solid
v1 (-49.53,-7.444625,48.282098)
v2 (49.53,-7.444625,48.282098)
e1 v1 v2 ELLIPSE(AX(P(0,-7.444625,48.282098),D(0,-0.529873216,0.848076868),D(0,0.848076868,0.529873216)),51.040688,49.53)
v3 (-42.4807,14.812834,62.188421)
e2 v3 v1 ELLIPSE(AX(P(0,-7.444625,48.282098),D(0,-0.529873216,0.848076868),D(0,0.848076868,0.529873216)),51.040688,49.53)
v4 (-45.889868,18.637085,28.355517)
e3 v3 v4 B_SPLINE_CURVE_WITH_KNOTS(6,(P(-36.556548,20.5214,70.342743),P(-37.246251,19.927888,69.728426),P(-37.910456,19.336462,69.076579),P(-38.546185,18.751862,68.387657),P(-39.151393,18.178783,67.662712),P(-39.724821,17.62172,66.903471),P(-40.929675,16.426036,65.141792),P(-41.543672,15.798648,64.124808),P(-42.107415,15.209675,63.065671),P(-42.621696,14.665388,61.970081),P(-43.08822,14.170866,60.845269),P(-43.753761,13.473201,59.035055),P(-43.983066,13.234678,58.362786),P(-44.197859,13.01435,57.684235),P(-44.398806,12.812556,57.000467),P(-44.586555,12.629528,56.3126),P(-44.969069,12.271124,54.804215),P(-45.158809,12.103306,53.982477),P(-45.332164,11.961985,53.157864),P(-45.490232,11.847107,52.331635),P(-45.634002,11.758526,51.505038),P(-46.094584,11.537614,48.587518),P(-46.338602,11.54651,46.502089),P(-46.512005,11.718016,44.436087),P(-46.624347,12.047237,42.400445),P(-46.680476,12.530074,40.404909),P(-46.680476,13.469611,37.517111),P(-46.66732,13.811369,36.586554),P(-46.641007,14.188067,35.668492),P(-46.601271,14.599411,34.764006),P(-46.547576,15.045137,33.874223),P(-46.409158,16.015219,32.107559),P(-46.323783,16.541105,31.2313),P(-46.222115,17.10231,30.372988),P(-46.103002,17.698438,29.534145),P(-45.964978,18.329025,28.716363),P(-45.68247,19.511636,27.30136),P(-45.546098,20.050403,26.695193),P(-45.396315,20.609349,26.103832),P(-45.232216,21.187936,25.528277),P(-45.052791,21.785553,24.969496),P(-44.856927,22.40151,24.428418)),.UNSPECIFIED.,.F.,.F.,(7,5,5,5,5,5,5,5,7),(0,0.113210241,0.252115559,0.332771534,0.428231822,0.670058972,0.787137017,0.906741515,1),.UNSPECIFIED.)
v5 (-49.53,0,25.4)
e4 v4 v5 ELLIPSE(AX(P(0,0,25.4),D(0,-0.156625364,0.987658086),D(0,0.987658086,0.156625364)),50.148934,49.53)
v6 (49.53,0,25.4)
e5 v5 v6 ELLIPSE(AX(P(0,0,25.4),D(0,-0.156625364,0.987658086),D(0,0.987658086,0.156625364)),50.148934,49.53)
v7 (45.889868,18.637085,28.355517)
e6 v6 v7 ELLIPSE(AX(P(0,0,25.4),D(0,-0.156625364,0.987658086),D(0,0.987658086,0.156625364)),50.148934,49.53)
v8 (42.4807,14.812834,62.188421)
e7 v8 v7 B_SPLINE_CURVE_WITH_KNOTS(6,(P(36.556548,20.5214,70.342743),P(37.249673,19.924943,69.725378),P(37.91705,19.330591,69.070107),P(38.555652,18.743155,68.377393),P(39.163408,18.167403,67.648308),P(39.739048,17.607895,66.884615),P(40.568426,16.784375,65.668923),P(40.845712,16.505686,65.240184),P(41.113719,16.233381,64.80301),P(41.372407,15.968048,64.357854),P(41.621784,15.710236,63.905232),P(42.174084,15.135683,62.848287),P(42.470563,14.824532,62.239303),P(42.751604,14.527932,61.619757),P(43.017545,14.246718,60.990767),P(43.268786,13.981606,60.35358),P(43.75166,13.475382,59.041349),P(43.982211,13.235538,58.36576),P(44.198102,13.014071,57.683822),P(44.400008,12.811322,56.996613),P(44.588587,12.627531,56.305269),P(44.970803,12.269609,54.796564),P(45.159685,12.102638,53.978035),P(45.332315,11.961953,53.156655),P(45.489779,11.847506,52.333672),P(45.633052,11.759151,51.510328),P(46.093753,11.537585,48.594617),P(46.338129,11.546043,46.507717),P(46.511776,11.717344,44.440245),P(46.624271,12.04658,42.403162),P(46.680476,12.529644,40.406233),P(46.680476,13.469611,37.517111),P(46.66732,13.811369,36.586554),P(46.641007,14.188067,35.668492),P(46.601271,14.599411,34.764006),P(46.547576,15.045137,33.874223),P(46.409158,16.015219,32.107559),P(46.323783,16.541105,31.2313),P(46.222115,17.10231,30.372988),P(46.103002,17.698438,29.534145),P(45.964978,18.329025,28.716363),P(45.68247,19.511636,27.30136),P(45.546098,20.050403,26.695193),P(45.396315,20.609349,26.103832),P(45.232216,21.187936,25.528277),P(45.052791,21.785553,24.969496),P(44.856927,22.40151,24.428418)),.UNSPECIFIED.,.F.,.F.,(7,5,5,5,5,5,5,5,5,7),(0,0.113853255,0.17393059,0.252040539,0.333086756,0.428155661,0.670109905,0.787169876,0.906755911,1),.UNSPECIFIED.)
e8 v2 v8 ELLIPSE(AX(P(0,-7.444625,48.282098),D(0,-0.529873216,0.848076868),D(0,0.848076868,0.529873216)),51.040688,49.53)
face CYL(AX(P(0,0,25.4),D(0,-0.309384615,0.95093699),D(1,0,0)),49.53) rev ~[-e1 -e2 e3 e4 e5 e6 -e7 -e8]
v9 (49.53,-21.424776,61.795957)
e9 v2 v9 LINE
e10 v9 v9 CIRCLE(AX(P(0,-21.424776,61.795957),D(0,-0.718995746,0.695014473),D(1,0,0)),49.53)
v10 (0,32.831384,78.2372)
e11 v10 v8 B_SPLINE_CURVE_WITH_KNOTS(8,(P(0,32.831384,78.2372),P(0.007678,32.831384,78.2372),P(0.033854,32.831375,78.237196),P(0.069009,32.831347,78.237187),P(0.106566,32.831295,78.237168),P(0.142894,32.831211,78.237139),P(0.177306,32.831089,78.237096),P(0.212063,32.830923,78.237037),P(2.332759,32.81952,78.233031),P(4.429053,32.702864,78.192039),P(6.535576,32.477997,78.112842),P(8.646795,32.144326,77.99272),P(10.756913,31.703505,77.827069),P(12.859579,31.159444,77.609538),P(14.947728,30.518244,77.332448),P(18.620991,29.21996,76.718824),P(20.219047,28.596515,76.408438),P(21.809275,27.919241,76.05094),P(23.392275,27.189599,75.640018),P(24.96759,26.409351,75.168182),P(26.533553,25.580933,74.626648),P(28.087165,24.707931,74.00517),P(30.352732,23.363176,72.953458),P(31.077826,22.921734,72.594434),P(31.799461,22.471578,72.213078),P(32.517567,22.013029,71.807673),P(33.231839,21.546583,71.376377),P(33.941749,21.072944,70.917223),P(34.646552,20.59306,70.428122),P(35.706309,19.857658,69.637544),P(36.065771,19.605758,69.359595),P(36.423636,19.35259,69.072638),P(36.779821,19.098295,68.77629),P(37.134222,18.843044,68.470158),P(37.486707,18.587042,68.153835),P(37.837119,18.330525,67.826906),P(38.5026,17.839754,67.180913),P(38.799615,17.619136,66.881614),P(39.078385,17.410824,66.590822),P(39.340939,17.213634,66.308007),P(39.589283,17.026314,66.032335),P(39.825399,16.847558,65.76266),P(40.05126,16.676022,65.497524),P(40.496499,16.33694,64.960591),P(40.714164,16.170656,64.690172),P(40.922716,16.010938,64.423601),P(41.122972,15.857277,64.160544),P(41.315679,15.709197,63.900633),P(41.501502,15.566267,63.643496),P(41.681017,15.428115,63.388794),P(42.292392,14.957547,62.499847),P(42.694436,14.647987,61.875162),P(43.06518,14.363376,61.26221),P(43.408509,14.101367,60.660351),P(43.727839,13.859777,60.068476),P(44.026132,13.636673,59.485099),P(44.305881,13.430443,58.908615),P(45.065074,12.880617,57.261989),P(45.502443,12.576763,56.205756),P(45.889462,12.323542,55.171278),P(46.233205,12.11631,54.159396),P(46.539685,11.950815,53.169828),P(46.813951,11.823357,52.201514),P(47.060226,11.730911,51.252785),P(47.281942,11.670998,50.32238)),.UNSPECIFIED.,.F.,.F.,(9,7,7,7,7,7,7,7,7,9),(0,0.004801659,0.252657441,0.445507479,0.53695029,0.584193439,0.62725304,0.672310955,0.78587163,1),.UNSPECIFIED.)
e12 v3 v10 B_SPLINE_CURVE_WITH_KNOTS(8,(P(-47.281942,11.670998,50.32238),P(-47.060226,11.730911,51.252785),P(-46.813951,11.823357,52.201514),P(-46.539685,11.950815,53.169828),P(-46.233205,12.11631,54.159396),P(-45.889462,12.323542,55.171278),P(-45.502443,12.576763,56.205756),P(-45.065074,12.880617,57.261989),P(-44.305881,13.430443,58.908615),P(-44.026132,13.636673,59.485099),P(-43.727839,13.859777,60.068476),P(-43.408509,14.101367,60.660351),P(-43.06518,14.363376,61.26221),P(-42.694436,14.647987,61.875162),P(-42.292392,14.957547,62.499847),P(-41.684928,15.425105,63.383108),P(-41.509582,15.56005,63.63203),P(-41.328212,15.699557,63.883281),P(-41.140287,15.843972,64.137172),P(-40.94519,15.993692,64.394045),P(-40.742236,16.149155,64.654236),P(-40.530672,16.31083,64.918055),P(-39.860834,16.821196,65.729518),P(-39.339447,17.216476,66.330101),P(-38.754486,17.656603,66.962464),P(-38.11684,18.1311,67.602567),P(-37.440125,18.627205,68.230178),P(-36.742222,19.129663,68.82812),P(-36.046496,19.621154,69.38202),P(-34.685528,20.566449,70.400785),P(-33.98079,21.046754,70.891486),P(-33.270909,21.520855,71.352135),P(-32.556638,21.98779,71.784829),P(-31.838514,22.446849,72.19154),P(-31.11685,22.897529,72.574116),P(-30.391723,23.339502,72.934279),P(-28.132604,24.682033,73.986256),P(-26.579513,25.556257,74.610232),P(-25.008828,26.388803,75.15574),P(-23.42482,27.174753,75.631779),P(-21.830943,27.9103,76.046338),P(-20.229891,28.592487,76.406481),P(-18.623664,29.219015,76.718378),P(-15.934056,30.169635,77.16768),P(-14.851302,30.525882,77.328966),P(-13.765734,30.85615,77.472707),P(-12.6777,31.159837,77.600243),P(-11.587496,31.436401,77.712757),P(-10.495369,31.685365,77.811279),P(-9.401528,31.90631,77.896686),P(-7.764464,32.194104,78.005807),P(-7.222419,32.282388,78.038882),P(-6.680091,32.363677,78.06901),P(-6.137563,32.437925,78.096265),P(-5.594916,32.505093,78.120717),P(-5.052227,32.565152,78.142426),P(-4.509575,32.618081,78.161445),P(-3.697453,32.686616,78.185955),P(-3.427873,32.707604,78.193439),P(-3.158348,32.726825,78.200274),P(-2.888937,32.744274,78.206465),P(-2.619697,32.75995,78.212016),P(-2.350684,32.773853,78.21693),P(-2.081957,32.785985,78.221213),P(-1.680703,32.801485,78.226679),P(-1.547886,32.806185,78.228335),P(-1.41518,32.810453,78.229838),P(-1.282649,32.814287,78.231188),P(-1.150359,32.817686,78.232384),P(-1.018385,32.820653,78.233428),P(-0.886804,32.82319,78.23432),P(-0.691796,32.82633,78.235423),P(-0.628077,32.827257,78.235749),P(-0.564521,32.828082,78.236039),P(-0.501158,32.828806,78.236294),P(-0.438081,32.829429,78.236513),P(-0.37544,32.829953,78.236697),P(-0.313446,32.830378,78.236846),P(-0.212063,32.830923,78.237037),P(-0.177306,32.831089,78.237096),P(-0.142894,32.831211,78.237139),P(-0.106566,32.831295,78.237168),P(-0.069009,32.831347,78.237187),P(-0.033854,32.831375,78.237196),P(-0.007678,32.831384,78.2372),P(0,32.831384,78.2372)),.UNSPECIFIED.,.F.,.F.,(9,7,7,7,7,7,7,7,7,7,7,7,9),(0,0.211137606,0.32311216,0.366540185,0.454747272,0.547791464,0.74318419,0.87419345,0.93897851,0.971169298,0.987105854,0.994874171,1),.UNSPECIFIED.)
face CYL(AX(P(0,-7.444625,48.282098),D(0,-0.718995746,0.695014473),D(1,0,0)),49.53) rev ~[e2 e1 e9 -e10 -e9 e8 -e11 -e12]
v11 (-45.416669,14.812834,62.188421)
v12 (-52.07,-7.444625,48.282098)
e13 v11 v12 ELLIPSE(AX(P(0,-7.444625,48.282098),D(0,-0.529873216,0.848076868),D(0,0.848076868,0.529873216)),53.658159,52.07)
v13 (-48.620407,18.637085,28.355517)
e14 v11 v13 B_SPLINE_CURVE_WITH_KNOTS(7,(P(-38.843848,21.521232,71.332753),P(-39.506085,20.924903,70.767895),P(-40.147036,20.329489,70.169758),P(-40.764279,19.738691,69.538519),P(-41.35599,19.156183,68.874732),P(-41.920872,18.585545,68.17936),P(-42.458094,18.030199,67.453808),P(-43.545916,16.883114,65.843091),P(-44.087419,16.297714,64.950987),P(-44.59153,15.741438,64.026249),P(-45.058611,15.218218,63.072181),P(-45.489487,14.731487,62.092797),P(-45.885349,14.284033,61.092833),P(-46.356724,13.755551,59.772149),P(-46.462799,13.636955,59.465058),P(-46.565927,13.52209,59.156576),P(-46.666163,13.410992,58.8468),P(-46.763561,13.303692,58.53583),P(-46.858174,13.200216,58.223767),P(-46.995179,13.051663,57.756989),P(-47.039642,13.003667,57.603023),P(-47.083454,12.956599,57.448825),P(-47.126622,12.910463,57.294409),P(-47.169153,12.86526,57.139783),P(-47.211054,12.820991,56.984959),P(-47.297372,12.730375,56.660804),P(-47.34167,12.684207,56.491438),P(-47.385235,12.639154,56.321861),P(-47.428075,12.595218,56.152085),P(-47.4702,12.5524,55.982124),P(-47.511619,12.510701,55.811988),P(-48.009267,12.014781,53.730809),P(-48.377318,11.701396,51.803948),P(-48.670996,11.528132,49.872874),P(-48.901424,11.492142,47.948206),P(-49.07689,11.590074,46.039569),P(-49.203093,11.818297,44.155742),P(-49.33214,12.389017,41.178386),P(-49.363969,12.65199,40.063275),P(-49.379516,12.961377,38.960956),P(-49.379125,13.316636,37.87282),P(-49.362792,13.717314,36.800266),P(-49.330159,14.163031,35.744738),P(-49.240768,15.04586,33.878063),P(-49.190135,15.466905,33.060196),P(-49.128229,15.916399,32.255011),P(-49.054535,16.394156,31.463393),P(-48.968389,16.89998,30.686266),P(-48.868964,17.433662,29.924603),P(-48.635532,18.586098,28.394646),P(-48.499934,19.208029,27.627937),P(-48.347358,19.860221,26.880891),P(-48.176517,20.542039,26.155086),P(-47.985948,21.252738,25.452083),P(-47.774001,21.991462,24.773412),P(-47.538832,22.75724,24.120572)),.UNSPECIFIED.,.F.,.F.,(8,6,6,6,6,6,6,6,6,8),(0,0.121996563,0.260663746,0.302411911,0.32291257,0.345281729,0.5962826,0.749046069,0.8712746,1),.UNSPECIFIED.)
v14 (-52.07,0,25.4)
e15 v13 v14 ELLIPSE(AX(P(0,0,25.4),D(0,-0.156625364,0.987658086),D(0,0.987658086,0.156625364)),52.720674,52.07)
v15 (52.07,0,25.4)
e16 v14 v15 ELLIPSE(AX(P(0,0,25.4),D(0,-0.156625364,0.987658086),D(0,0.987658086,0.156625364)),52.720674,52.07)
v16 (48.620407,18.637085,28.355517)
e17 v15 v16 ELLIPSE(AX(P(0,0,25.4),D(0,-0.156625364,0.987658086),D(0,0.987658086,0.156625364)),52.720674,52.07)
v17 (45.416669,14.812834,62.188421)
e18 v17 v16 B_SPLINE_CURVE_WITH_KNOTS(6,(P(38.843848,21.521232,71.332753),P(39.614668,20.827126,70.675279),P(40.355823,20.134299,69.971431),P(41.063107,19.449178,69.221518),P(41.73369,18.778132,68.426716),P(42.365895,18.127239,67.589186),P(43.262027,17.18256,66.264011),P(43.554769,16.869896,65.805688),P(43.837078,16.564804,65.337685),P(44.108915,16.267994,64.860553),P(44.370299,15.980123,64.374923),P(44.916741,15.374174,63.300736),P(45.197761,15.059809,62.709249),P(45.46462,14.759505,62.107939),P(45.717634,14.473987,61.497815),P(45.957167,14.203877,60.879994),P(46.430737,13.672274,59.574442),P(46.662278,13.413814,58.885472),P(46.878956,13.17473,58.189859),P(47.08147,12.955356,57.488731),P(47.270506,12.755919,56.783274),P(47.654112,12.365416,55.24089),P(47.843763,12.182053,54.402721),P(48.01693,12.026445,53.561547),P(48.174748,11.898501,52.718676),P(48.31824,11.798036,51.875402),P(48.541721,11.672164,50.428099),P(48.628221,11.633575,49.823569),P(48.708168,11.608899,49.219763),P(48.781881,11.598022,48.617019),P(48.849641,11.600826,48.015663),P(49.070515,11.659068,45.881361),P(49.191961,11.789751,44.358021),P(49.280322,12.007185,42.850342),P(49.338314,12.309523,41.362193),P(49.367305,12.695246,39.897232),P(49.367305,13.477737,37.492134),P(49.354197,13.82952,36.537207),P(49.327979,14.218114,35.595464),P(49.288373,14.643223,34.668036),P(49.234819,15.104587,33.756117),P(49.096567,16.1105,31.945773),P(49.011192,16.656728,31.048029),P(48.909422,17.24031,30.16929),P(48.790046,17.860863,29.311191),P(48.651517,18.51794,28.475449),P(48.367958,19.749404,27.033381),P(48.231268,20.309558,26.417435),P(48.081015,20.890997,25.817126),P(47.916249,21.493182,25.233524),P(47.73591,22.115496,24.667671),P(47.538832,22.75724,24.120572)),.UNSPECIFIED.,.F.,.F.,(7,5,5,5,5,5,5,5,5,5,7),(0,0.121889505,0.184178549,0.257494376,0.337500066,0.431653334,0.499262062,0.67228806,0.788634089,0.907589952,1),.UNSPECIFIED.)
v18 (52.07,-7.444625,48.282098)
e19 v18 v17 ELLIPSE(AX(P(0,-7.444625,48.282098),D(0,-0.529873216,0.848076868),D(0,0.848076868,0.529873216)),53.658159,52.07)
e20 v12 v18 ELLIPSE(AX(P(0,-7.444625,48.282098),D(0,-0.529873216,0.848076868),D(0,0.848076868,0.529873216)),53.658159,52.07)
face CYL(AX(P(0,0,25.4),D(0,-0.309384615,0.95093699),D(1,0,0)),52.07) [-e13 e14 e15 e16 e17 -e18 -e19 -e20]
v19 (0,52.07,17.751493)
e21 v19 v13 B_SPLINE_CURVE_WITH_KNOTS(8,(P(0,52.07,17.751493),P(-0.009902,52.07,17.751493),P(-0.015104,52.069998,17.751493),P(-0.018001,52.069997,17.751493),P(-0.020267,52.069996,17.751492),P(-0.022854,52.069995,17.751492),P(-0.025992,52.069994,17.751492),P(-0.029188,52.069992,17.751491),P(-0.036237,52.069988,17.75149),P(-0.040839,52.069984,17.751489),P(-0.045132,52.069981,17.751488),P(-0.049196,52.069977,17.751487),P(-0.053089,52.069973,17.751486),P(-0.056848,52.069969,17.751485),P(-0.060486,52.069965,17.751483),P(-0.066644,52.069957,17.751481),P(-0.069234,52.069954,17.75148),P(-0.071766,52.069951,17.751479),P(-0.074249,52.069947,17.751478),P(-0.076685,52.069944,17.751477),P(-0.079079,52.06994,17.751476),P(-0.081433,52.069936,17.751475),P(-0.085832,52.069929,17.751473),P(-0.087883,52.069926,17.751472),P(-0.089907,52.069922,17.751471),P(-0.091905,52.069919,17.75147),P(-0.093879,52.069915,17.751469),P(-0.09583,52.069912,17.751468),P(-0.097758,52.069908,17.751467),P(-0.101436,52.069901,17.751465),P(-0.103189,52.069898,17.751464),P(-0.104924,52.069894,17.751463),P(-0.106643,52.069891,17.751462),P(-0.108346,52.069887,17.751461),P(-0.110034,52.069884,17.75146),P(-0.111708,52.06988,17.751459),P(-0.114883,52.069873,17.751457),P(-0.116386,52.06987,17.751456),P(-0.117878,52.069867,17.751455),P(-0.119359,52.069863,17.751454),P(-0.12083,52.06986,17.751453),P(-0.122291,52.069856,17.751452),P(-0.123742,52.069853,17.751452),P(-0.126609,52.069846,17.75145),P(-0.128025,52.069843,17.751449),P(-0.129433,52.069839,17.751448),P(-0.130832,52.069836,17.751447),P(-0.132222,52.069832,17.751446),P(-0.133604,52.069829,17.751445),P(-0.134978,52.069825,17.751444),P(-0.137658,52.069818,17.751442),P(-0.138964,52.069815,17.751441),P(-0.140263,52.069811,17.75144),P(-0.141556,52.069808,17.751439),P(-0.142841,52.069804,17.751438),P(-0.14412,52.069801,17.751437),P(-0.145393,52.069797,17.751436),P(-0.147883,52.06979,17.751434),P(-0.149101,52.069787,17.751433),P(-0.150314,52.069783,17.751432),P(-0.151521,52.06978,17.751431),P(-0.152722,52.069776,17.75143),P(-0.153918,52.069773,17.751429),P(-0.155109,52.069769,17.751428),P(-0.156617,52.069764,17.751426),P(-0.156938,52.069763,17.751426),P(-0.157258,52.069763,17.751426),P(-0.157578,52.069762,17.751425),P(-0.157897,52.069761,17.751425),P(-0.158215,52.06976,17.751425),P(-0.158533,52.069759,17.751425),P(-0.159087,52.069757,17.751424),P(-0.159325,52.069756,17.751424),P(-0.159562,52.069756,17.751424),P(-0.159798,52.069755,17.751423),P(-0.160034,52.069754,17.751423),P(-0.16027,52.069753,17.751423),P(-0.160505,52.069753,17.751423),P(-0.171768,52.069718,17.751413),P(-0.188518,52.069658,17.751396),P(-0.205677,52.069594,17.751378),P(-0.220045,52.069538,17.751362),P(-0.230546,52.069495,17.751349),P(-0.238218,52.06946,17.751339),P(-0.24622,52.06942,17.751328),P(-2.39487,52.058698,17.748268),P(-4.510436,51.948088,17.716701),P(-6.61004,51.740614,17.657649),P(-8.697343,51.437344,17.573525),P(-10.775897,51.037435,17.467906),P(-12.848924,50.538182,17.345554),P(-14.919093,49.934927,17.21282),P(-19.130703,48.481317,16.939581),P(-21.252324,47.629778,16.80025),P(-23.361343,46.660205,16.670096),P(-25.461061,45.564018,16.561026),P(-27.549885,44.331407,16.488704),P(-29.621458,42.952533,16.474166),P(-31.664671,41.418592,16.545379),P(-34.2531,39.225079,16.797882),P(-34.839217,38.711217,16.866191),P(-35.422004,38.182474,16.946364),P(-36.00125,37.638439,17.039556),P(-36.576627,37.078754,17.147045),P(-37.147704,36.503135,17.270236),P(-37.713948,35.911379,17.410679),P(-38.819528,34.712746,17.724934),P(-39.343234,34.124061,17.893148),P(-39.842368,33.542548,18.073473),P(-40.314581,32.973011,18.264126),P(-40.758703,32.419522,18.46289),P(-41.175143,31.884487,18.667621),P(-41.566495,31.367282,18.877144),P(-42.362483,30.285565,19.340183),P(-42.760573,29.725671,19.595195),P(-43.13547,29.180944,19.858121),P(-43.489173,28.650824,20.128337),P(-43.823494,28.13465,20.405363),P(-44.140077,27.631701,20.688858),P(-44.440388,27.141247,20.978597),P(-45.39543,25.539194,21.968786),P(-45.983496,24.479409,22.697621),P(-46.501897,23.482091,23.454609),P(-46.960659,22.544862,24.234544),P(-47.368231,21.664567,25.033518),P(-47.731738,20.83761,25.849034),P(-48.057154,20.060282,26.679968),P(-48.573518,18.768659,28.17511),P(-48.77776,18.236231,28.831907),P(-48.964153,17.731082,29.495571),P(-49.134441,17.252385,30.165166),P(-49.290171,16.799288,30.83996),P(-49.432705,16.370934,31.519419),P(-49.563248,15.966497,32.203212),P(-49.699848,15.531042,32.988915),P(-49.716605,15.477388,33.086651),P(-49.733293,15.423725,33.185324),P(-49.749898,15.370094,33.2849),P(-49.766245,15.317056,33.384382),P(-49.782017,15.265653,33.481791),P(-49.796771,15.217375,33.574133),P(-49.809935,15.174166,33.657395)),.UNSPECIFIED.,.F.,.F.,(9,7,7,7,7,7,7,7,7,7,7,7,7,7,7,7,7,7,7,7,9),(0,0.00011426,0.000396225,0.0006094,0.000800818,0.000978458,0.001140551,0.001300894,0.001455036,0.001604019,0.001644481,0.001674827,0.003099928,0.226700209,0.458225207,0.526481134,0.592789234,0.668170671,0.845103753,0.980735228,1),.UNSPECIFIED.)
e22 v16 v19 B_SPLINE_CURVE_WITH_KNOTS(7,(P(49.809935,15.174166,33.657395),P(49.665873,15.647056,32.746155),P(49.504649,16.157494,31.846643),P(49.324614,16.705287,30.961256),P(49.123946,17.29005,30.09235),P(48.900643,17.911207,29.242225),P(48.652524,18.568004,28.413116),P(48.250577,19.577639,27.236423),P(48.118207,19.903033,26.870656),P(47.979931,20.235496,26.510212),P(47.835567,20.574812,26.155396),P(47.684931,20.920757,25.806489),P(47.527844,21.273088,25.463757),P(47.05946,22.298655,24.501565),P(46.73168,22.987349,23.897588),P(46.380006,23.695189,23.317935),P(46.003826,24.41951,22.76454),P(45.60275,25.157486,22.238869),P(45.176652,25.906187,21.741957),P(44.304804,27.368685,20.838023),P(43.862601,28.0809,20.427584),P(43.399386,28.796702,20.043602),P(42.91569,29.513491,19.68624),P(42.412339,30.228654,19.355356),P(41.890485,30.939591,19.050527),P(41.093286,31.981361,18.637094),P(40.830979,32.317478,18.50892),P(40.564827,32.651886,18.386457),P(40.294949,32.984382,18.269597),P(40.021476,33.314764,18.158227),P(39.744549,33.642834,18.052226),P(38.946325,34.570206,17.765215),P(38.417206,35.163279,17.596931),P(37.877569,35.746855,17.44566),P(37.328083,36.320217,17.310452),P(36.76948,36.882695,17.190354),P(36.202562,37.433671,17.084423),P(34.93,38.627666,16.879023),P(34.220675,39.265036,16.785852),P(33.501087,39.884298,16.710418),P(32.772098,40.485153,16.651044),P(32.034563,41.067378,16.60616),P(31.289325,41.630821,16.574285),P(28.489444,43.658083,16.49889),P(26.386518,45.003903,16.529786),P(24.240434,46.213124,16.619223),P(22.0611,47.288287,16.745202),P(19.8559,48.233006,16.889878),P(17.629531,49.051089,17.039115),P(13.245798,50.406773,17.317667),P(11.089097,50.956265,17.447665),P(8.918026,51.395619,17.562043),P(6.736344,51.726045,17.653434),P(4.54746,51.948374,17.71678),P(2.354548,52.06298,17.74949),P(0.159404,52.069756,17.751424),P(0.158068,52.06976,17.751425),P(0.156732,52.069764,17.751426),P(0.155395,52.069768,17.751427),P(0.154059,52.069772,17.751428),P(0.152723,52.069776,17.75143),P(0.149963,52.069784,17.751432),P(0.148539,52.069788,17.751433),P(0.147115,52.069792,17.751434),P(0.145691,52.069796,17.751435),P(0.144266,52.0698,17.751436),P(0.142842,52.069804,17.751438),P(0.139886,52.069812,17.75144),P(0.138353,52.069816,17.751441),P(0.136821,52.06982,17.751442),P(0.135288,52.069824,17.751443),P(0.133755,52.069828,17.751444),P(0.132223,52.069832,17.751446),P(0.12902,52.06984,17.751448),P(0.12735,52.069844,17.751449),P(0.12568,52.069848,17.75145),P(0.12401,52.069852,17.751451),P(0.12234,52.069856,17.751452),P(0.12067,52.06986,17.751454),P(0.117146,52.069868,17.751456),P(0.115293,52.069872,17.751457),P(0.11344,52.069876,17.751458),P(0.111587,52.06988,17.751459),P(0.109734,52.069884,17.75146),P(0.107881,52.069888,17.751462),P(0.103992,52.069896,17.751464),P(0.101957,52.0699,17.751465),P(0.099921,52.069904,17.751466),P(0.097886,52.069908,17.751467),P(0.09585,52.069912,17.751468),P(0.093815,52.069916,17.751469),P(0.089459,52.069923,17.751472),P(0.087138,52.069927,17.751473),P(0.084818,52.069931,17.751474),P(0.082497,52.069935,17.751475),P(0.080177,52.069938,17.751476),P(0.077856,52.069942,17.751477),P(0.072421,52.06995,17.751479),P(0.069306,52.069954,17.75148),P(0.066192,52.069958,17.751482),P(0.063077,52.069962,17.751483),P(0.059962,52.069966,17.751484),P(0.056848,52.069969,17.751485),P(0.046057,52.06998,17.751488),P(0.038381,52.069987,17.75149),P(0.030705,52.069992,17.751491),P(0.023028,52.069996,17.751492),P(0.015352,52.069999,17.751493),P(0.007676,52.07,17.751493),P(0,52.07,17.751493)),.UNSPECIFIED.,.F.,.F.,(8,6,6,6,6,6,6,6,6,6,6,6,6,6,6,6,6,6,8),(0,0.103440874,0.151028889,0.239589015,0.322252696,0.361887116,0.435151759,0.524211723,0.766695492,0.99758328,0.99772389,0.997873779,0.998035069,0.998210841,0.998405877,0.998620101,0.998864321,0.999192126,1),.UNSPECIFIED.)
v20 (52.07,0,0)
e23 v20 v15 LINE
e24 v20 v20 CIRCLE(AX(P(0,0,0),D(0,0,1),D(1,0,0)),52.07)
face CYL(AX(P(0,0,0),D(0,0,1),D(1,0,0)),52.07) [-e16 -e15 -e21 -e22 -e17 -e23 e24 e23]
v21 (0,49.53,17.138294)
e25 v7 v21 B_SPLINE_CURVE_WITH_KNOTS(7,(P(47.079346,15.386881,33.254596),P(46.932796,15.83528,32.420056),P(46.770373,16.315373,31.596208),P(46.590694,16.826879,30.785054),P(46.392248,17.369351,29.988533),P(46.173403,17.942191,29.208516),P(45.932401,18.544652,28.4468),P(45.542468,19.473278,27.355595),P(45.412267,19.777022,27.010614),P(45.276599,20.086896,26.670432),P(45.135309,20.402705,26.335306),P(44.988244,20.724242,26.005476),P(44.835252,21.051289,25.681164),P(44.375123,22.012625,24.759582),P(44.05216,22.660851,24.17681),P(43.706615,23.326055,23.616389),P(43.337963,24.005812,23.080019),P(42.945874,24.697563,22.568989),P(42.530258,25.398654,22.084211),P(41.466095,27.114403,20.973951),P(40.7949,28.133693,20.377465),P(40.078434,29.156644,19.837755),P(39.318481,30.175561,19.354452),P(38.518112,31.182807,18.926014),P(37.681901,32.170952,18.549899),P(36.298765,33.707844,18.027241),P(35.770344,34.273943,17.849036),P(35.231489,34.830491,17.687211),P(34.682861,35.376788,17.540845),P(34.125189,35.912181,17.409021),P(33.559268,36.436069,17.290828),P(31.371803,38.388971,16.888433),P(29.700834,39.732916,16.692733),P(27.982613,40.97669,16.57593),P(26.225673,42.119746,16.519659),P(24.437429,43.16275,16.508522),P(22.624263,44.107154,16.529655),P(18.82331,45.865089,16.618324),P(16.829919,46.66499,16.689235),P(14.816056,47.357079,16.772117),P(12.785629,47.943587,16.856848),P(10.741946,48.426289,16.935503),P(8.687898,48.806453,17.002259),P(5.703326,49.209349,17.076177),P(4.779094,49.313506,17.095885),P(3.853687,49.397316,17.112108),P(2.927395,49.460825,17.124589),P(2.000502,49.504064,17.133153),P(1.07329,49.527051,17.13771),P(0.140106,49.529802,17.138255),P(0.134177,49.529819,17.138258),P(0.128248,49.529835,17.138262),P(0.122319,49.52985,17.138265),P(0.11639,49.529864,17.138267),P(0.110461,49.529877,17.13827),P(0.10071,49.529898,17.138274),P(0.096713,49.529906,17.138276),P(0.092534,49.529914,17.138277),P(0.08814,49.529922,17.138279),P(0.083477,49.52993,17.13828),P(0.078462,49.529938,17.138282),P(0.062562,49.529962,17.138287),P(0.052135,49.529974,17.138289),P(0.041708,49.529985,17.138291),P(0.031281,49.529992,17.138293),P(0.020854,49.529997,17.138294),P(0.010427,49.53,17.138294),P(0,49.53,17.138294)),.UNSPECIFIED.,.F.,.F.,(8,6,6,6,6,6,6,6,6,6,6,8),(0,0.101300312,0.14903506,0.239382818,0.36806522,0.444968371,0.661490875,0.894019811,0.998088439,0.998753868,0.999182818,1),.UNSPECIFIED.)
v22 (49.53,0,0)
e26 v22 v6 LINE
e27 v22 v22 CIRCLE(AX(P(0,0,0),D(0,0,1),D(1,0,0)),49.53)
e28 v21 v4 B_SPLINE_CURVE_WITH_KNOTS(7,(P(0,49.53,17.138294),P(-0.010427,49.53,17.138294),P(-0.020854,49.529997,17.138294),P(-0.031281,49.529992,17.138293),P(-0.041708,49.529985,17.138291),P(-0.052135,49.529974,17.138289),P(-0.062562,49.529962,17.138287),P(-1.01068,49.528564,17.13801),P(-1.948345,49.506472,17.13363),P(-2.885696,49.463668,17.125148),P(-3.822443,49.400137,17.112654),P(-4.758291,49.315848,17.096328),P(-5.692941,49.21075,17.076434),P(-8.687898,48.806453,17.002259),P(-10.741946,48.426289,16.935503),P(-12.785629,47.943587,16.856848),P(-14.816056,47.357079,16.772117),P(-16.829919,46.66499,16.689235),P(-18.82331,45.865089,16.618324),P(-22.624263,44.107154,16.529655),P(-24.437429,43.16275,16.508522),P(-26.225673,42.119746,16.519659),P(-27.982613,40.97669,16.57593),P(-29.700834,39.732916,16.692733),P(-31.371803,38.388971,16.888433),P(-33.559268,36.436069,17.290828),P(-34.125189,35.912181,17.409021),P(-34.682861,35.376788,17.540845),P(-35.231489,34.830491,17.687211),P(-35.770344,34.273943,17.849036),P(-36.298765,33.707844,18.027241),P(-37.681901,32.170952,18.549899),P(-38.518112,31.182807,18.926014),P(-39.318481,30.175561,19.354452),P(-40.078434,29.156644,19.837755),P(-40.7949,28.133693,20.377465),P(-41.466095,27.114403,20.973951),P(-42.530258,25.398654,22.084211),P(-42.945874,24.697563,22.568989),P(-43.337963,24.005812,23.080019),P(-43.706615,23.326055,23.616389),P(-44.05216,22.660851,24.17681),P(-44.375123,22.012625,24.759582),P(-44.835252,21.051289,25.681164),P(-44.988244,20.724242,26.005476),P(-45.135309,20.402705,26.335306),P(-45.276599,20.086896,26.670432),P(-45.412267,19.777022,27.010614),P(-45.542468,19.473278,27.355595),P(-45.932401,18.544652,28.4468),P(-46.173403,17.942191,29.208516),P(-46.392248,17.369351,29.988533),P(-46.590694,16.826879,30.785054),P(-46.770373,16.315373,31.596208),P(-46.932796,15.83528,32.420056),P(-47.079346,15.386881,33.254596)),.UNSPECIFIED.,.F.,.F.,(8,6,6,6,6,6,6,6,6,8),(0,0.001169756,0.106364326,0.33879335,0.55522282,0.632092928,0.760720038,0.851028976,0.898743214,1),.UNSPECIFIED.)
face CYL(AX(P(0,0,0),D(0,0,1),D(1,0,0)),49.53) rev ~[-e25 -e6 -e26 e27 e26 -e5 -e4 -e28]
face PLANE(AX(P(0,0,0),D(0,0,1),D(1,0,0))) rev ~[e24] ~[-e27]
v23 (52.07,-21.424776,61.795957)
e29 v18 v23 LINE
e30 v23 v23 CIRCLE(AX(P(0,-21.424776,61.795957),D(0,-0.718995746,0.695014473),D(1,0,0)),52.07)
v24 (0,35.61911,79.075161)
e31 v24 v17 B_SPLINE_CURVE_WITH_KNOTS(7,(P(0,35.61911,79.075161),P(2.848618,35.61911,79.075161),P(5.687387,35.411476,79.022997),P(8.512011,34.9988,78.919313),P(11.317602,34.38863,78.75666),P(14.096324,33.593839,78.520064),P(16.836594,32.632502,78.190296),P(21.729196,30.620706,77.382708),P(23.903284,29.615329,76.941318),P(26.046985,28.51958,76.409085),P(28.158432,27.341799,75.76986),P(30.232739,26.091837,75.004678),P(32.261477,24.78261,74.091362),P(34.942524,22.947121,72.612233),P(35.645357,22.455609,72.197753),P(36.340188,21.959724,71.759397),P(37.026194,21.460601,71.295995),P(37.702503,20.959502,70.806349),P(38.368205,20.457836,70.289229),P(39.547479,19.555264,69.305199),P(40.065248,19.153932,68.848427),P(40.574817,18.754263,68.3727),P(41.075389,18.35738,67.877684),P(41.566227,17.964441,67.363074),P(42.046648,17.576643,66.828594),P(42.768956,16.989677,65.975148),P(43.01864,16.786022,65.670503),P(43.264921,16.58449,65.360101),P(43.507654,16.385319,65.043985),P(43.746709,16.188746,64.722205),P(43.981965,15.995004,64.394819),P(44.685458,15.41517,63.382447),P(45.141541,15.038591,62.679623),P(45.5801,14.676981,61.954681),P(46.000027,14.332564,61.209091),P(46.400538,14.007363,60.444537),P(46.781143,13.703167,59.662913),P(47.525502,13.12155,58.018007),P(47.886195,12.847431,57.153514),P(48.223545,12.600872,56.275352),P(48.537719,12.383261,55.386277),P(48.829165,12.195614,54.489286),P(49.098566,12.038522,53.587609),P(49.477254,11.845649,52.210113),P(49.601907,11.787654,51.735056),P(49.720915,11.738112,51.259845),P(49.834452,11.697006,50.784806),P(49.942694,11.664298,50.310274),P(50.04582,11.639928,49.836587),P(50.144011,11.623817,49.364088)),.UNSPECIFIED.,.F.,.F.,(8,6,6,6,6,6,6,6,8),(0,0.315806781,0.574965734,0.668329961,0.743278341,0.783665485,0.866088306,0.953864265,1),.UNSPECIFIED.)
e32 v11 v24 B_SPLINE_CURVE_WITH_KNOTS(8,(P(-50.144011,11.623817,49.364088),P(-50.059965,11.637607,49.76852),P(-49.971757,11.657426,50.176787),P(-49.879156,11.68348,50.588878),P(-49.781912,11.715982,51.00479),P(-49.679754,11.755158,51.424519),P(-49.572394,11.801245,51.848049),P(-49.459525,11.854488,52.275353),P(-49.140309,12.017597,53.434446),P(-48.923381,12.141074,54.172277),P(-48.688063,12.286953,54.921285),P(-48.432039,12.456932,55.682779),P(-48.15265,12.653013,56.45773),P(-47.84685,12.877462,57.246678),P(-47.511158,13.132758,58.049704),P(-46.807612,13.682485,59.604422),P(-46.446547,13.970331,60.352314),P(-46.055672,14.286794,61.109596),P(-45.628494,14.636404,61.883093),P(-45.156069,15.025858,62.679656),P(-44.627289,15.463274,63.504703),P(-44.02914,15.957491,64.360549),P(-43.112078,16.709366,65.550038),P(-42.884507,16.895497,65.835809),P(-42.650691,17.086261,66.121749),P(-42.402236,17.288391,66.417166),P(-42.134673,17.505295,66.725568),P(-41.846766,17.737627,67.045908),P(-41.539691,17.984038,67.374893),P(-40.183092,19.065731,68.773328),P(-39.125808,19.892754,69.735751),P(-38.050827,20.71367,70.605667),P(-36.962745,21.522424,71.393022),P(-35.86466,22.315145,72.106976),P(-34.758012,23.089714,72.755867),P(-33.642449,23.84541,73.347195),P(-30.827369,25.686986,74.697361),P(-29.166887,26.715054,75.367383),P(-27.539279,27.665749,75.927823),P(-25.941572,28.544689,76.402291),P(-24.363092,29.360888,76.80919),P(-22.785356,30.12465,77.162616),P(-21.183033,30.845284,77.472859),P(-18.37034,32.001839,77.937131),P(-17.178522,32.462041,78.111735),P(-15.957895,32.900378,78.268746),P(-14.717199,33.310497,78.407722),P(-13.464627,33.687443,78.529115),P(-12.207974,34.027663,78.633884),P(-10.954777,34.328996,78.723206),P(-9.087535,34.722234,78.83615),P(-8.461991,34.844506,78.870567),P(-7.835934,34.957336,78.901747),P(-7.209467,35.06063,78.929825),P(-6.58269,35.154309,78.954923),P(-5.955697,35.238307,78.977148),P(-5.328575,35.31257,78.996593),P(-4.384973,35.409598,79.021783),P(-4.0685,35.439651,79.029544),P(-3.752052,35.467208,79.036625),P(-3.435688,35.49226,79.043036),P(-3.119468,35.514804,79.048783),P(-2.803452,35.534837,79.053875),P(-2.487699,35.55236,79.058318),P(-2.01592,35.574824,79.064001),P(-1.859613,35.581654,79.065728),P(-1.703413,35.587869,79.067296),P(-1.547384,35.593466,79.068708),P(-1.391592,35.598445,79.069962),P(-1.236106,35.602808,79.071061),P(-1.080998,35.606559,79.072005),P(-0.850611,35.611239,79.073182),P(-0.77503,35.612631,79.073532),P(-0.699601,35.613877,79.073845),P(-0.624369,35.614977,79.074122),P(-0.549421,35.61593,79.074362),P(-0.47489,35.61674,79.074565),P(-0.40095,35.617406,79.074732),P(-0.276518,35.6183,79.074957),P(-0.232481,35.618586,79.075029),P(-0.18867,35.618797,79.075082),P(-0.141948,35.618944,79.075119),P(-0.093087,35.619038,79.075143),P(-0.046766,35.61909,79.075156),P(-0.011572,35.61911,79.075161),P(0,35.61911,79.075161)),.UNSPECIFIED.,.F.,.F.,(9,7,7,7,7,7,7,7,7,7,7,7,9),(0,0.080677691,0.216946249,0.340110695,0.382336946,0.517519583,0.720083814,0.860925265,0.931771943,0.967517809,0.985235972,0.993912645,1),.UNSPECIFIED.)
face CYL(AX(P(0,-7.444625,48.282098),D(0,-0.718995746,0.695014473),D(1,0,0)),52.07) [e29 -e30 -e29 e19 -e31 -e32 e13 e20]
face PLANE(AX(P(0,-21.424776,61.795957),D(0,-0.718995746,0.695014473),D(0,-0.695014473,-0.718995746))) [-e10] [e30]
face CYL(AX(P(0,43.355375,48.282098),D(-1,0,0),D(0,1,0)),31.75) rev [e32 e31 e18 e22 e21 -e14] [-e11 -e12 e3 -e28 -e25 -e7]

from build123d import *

# Parameters (mm, degrees)
F0_R          = 52.07
F0_R_2        = 49.53
F4_DEPTH      = 50.8
F4_DEPTH_BACK = 50.8


with BuildPart() as f2:
    # F2: sweep along a path in F1
    with BuildLine(Plane.YZ) as f2_path:
        Line((0, 0), (0, 25.4))
        Line((0, 25.4), (-7.4446247891, 48.2820980251))
        Line((-7.4446247891, 48.2820980251), (-21.4247759432, 61.7959573865))
    # F0 (on Top) → F2 (sweep)
    with BuildSketch(Plane.XY):
        Circle(F0_R)
        Circle(F0_R_2, mode=Mode.SUBTRACT)
    sweep(path=f2_path.line, transition=Transition.RIGHT)

    # F3 (on Right) → F4 (cut, two sides)
    with BuildSketch(Plane.YZ) as f4_sk:
        with BuildLine():
            ThreePointArc((11.6053752109, 48.2820980251), (43.3553752109, 16.5320980251), (75.1053752109, 48.2820980251))
            ThreePointArc((75.1053752109, 48.2820980251), (43.3553752109, 80.0320980251), (11.6053752109, 48.2820980251))
        make_face()
    extrude(amount=-F4_DEPTH, mode=Mode.SUBTRACT)
    extrude(f4_sk.sketch, amount=F4_DEPTH_BACK, mode=Mode.SUBTRACT)


solid = f2.part
